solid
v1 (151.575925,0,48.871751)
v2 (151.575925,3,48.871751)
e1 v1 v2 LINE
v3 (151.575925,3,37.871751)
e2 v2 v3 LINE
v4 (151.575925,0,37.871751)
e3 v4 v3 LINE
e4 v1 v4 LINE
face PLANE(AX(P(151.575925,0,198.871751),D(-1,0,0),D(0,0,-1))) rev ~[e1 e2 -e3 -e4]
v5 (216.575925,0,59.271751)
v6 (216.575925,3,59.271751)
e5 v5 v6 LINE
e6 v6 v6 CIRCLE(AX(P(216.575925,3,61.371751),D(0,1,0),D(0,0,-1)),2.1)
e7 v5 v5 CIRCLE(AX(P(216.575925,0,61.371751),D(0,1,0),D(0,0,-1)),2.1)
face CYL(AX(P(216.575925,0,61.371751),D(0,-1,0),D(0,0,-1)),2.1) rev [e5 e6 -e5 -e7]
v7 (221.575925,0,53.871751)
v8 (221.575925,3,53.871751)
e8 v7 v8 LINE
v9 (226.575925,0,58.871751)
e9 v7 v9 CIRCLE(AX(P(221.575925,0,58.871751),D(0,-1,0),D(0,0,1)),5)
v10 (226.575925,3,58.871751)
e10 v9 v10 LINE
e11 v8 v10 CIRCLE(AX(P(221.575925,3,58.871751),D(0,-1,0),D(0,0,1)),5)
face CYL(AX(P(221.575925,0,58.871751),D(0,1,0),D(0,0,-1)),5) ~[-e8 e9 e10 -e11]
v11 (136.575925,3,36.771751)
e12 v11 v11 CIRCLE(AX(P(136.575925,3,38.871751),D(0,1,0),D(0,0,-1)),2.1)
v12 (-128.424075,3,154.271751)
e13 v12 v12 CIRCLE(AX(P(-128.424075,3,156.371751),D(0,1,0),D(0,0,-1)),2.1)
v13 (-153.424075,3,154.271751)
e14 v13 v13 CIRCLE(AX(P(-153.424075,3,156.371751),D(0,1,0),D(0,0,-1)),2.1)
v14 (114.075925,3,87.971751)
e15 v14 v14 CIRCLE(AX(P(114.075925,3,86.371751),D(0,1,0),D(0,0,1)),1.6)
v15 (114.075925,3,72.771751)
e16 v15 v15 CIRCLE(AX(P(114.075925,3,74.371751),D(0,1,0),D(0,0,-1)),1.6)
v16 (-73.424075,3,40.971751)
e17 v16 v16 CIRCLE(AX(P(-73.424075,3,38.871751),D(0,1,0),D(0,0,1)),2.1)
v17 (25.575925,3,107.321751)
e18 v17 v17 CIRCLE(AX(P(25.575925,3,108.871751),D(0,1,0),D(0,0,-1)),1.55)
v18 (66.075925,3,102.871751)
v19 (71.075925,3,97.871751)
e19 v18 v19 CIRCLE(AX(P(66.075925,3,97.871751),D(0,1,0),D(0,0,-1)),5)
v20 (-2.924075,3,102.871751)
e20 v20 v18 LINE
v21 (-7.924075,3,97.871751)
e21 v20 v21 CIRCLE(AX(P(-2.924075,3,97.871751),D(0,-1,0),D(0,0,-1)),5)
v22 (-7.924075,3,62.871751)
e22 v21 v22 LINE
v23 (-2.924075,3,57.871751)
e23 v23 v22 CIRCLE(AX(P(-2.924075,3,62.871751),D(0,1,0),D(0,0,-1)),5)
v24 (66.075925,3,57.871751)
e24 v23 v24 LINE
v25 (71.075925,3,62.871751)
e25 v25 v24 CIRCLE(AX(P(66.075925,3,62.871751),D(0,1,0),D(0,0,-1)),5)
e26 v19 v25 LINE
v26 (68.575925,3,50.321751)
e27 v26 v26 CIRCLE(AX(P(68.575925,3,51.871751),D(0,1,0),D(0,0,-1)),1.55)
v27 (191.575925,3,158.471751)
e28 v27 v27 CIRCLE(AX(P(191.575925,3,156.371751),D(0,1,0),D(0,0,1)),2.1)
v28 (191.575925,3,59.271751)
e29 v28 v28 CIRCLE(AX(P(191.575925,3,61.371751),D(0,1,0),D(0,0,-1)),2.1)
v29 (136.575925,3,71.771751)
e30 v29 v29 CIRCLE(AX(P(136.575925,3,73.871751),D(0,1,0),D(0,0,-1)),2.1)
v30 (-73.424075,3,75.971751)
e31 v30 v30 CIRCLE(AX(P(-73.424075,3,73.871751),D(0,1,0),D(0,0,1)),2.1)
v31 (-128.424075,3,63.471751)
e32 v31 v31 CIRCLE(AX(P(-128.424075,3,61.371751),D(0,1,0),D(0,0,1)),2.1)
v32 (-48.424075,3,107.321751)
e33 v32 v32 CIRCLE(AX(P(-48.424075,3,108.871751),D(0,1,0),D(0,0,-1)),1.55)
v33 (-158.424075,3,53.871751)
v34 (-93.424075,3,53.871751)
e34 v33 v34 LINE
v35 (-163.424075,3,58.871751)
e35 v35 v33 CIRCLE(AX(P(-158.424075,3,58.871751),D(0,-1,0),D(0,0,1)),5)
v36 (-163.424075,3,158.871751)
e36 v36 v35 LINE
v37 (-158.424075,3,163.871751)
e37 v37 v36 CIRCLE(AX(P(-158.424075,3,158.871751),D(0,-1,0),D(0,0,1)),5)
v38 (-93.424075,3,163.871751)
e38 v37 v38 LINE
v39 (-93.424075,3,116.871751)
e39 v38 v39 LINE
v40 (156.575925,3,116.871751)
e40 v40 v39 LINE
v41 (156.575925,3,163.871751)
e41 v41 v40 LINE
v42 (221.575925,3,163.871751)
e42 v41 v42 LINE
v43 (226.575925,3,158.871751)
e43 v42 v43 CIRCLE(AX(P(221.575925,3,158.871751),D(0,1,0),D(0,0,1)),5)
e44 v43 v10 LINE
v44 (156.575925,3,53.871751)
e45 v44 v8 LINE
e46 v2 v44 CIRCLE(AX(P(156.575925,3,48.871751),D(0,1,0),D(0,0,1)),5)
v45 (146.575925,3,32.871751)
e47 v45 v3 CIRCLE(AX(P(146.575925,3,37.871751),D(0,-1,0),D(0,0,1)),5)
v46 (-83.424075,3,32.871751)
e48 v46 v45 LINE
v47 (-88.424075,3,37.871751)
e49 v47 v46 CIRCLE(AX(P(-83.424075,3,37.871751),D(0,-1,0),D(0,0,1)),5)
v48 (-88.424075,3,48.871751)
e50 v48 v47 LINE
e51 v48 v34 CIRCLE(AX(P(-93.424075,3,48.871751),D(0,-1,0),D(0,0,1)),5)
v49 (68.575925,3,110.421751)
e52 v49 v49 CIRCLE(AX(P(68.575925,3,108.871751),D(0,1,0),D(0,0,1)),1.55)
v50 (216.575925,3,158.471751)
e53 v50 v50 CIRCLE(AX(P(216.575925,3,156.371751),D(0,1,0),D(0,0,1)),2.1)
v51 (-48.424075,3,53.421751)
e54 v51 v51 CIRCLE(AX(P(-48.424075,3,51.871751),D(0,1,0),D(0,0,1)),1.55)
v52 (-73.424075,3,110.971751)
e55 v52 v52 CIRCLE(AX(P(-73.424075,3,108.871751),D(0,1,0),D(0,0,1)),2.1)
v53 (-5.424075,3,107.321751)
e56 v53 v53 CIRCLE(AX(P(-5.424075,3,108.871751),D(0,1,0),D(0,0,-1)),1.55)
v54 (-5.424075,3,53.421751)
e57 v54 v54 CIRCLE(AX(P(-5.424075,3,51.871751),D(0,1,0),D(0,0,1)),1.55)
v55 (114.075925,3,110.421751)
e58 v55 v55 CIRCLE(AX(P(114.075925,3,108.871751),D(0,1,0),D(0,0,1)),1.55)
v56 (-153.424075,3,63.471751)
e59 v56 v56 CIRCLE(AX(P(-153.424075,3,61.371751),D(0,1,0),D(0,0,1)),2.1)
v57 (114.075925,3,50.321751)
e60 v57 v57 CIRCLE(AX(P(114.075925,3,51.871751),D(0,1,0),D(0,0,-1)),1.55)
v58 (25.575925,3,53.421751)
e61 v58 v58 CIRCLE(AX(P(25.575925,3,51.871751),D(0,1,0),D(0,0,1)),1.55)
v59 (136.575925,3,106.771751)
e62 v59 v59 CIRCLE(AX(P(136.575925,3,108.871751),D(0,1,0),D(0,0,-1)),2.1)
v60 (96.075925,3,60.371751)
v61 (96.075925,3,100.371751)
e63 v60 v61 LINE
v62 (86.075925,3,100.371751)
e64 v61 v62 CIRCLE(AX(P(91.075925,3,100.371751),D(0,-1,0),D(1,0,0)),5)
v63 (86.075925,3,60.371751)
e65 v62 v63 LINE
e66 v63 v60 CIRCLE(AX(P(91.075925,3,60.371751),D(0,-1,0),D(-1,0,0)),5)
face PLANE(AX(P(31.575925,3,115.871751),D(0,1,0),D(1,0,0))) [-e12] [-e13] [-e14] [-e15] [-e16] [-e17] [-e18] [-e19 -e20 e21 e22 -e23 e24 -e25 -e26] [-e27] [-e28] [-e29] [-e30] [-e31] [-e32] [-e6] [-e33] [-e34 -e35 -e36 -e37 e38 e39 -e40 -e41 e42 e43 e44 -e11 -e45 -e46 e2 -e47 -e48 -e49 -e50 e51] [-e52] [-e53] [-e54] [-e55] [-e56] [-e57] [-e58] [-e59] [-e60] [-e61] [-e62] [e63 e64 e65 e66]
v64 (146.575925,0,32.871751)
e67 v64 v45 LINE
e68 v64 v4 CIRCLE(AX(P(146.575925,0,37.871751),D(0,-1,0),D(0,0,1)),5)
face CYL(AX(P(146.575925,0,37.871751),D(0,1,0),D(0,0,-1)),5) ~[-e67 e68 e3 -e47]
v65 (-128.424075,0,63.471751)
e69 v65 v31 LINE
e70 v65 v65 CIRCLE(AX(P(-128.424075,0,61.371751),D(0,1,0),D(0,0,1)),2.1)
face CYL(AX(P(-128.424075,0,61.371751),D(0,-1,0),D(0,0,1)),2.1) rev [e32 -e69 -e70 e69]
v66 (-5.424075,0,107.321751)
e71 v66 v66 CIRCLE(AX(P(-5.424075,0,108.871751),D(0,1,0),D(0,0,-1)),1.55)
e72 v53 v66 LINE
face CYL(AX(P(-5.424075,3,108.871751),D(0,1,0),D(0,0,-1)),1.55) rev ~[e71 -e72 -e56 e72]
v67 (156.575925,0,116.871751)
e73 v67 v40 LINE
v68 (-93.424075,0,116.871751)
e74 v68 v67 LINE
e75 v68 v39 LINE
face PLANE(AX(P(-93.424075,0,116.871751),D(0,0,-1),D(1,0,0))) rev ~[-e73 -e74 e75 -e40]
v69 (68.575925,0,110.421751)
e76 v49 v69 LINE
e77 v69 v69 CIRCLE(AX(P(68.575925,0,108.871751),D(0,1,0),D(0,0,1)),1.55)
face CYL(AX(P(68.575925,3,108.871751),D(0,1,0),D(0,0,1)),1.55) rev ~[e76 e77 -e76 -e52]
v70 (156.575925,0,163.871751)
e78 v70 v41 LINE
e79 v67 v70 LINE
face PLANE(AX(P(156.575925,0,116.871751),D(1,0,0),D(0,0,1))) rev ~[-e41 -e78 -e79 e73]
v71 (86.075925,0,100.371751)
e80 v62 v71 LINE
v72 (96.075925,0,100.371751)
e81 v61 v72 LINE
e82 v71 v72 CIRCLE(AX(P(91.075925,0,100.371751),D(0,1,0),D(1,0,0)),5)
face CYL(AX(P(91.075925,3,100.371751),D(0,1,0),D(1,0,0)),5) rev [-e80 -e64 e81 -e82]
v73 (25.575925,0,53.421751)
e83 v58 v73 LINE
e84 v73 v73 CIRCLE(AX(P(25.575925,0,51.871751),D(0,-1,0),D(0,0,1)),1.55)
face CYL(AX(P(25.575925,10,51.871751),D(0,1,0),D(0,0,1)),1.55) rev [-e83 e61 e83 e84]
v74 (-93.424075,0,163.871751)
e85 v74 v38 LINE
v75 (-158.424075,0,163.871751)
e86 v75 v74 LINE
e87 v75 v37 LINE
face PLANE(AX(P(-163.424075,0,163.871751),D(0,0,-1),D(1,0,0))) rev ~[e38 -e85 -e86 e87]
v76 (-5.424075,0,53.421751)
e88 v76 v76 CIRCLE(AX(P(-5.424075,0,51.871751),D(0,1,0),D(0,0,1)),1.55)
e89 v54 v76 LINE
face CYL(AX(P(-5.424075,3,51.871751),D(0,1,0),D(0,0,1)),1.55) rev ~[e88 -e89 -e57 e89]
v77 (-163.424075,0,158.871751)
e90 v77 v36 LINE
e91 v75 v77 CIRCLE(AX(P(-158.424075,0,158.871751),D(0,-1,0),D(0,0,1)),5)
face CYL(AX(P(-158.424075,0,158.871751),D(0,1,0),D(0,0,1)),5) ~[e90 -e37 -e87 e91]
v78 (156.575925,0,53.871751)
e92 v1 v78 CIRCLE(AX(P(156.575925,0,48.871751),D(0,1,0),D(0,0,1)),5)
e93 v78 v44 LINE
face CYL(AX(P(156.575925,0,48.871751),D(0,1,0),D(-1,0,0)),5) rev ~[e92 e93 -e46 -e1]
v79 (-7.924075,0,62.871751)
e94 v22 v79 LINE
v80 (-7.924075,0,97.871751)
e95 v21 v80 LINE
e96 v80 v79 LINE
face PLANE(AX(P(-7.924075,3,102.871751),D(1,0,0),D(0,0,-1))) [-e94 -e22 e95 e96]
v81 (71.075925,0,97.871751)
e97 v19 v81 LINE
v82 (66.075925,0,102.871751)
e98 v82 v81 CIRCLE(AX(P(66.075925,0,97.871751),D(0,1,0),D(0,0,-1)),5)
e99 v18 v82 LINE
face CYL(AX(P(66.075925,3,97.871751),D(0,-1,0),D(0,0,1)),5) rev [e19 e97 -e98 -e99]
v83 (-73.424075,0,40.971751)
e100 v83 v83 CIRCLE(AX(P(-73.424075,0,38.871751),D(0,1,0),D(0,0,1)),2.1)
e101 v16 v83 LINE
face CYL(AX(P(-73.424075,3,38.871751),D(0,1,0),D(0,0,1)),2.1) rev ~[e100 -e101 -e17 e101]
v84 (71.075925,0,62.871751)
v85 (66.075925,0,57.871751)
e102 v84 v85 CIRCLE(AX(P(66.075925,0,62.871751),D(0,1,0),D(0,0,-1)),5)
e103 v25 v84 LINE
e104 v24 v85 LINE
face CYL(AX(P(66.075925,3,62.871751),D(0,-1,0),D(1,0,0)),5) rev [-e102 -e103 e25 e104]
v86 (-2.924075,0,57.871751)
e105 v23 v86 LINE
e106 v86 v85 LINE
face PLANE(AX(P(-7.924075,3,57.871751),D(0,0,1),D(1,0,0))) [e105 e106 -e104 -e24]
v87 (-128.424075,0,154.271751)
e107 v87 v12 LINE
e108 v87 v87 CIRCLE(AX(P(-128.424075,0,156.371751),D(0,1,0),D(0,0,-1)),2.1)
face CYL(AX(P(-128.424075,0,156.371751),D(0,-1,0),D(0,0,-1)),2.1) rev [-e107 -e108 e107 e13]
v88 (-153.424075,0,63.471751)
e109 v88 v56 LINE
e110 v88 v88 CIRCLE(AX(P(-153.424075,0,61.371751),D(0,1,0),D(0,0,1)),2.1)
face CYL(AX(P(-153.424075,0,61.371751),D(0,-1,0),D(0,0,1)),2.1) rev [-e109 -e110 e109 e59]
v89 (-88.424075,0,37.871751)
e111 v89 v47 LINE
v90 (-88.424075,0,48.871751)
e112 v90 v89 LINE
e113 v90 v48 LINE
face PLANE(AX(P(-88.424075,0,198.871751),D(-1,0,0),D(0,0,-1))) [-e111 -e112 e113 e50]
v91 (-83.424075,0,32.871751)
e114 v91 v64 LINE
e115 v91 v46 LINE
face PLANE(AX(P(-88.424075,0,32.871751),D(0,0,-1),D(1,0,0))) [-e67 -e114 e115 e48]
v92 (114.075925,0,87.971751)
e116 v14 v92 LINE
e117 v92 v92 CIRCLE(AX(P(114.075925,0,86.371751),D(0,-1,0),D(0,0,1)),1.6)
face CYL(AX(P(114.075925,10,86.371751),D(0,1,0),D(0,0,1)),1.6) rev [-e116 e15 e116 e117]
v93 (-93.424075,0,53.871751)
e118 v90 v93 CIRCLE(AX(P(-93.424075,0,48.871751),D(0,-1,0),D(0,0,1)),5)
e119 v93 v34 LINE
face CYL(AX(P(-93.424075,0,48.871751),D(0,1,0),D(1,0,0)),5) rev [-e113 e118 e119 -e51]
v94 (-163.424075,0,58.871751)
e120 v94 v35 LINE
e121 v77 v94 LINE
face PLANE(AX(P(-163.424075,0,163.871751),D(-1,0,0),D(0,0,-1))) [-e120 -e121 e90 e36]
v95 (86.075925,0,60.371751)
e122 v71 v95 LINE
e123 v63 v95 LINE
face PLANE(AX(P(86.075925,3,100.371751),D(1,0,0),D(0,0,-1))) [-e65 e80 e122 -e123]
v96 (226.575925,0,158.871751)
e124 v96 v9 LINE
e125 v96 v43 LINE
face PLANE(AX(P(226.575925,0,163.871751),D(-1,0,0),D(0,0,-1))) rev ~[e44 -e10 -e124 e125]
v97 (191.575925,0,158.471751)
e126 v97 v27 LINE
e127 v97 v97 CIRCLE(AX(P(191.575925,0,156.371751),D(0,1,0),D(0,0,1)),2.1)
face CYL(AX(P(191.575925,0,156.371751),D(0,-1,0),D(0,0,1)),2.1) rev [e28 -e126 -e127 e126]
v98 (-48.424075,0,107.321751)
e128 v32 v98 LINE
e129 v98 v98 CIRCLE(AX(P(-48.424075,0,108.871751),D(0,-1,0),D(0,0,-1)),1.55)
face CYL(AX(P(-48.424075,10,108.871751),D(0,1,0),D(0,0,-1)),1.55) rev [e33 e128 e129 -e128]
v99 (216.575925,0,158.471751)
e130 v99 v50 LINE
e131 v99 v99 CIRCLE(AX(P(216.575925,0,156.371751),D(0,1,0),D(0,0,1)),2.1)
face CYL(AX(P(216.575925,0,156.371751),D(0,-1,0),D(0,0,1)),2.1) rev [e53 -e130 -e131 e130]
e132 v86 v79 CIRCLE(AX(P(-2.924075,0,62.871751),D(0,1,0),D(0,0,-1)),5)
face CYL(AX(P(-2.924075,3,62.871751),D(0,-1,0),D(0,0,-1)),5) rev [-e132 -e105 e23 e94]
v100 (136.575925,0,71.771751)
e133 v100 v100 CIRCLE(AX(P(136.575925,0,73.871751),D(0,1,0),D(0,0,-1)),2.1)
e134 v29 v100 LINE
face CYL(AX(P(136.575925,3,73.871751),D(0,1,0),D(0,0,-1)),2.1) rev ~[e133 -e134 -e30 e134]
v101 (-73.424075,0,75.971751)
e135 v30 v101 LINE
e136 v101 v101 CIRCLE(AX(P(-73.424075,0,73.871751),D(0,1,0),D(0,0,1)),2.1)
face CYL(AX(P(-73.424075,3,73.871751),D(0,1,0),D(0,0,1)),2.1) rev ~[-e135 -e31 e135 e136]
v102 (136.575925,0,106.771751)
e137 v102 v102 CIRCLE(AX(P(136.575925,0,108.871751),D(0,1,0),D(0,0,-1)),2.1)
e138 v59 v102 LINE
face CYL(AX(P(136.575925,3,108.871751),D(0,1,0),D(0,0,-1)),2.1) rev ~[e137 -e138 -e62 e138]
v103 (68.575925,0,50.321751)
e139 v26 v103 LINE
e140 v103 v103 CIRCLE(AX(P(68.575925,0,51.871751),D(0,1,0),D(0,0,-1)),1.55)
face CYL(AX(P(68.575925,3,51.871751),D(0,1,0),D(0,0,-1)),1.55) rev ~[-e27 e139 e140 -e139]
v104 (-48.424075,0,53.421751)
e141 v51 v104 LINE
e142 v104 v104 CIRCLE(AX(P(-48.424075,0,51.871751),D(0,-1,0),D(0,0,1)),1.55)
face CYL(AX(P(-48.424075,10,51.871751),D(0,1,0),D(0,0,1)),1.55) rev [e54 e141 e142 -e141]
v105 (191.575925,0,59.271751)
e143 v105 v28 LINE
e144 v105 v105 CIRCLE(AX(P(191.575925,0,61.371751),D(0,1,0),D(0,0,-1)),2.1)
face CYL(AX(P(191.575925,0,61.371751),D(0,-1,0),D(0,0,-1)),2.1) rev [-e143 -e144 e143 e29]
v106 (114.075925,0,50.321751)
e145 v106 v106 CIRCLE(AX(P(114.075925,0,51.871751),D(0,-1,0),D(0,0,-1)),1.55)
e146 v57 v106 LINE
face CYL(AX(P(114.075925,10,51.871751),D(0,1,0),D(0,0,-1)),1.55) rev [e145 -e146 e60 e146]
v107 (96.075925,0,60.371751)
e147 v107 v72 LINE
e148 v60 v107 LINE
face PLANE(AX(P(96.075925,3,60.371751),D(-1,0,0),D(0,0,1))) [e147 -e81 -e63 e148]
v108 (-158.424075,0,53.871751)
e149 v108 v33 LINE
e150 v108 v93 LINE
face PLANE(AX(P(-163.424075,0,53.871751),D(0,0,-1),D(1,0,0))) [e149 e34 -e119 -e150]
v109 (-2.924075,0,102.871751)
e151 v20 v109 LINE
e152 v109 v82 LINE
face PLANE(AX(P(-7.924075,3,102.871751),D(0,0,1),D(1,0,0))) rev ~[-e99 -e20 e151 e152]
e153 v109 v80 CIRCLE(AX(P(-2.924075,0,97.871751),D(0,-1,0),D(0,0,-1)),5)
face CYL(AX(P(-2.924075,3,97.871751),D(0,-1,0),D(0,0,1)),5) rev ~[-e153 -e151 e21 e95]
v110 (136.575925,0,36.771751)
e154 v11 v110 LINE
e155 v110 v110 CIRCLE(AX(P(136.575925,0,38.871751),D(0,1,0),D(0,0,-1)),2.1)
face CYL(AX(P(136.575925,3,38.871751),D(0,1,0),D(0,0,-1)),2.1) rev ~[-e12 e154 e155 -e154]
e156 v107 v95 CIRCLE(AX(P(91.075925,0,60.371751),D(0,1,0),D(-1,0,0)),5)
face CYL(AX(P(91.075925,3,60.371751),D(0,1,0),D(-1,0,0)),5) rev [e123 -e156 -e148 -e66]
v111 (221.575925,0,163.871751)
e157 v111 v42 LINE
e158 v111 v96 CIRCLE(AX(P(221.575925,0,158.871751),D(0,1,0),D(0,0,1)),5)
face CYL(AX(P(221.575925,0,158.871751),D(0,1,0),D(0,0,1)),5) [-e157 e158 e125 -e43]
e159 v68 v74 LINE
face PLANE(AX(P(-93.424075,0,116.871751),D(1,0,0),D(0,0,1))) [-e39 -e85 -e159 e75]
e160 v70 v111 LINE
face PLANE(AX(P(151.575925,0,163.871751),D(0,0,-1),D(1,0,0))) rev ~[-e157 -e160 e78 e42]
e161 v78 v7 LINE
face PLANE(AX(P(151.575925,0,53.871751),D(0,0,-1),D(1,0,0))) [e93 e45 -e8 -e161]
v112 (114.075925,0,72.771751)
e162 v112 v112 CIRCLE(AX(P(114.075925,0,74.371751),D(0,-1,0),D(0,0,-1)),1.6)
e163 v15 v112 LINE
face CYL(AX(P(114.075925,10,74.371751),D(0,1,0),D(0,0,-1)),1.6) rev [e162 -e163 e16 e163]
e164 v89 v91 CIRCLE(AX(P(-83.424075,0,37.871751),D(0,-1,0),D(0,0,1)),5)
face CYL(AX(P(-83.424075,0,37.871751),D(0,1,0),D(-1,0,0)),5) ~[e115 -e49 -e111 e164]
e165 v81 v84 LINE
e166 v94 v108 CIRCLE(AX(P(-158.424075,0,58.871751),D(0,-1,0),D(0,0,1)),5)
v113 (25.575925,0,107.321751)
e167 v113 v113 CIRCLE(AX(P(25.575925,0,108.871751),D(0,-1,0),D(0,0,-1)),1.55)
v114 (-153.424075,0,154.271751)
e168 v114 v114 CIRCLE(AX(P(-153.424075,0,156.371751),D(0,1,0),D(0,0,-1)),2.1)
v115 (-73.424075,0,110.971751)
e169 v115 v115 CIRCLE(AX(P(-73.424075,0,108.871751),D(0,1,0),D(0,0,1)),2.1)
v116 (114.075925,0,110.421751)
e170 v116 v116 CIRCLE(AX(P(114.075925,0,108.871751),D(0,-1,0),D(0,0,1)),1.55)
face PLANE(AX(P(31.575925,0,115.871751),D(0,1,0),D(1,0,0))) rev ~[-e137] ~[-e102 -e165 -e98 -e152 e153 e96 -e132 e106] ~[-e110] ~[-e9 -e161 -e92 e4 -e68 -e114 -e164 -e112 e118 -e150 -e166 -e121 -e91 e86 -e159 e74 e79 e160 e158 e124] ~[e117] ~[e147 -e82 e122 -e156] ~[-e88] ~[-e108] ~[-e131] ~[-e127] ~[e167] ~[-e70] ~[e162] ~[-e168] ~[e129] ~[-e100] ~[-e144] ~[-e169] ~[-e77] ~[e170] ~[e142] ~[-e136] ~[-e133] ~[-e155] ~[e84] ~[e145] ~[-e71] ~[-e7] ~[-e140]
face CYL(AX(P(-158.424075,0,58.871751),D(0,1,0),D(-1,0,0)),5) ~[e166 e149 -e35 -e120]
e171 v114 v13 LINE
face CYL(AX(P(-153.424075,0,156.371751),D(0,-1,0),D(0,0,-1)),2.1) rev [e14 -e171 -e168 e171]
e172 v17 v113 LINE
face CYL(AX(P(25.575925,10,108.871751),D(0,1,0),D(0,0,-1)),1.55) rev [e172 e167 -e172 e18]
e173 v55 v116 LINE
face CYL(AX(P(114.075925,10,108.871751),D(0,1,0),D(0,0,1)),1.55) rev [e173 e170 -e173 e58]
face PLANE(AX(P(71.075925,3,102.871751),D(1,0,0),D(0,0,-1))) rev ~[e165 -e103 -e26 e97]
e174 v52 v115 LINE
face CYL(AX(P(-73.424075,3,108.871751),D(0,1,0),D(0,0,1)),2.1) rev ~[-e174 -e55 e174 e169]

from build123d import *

# Parameters (mm, degrees)
SKETCH_1_W          = 240
SKETCH_1_H          = 166
EXTRUDE_1272_DEPTH  = 3
SKETCH_4_R          = 2.1
SKETCH_4_R_2        = 1.55
CUT_EXTRUDE_3_DEPTH = 251.068459046
SKETCH_5_R          = 1.55
SKETCH_5_R_2        = 10
SKETCH_5_W          = 79
SKETCH_5_H          = 45
CUT_EXTRUDE_4_DEPTH = 251.068459046
SKETCH_6_W          = 75
SKETCH_6_H          = 110
SKETCH_6_R          = 2.1
EXTRUDE_1_DEPTH     = 3
FILLET_1_R          = 5
SKETCH_8_R          = 39
CUT_EXTRUDE_6_DEPTH = 10
CUT_EXTRUDE_START   = -10
SKETCH_9_R          = 1.55
SKETCH_9_R_2        = 1.6
CUT_EXTRUDE_7_DEPTH = 10
SKETCH_10_W         = 250
SKETCH_10_H         = 82
CUT_EXTRUDE_8_DEPTH = 10


with BuildPart() as part:
    # 草图1 → Extrude 1272 (new body)
    with BuildSketch(Plane(origin=(0, 0, 0), x_dir=(1, 0, 0), z_dir=(0, 1, 0))):
        with Locations((31.575924772, -115.871750732)):
            Rectangle(SKETCH_1_W, SKETCH_1_H)
    extrude(amount=EXTRUDE_1272_DEPTH)

    # 草图4 → 切除-拉伸3 (cut, through all)
    with BuildSketch(Plane(origin=(0, 3, 0), x_dir=(1, 0, 0), z_dir=(0, 1, 0))):
        with Locations(Location((-73.424075228, -73.871750732, 0), (0, 0, 270))):
            Circle(SKETCH_4_R)
        with Locations(Location((136.575924772, -178.871750732, 0), (0, 0, 90))):
            Circle(SKETCH_4_R)
        with Locations(Location((-73.424075228, -108.871750732, 0), (0, 0, 270))):
            Circle(SKETCH_4_R)
        with Locations(Location((-73.424075228, -143.871750732, 0), (0, 0, 270))):
            Circle(SKETCH_4_R)
        with Locations(Location((-73.424075228, -178.871750732, 0), (0, 0, 270))):
            Circle(SKETCH_4_R)
        with Locations(Location((136.575924772, -143.871750732, 0), (0, 0, 90))):
            Circle(SKETCH_4_R)
        with Locations(Location((136.575924772, -108.871750732, 0), (0, 0, 90))):
            Circle(SKETCH_4_R)
        with Locations(Location((136.575924772, -73.871750732, 0), (0, 0, 90))):
            Circle(SKETCH_4_R)
        with Locations(Location((-73.424075228, -38.871750732, 0), (0, 0, 270))):
            Circle(SKETCH_4_R)
        with Locations(Location((136.575924772, -38.871750732, 0), (0, 0, 90))):
            Circle(SKETCH_4_R)
        with Locations(Location((77.075924772, -188.871750732, 0), (0, 0, 270))):
            Circle(SKETCH_4_R_2)
        with Locations(Location((-13.924075228, -188.871750732, 0), (0, 0, 90))):
            Circle(SKETCH_4_R_2)
        with Locations(Location((77.075924772, -153.871750732, 0), (0, 0, 270))):
            Circle(SKETCH_4_R_2)
        with Locations(Location((-13.924075228, -153.871750732, 0), (0, 0, 90))):
            Circle(SKETCH_4_R_2)
    extrude(amount=-CUT_EXTRUDE_3_DEPTH, mode=Mode.SUBTRACT)

    # 草图5 → 切除-拉伸4 (cut, through all)
    with BuildSketch(Plane(origin=(0, 3, 0), x_dir=(1, 0, 0), z_dir=(0, 1, 0))):
        with Locations(Location((-5.424075228, -51.871750732, 0), (0, 0, 270))):
            Circle(SKETCH_5_R)
        with Locations(Location((68.575924772, -51.871750732, 0), (0, 0, 90))):
            Circle(SKETCH_5_R)
        with Locations(Location((68.575924772, -108.871750732, 0), (0, 0, 270))):
            Circle(SKETCH_5_R)
        with Locations(Location((-5.424075228, -108.871750732, 0), (0, 0, 90))):
            Circle(SKETCH_5_R)
        with Locations(Location((-45.424075228, -143.871750732, 0), (0, 0, 270))):
            Circle(SKETCH_5_R_2)
        with Locations(Location((108.575924772, -143.871750732, 0), (0, 0, 90))):
            Circle(SKETCH_5_R_2)
        with Locations((31.575924772, -80.371750732)):
            Rectangle(SKETCH_5_W, SKETCH_5_H)
        with BuildLine():
            Line((86.075924772, -100.371750732), (86.075924772, -60.371750732))
            ThreePointArc((86.075924772, -60.371750732), (91.075924772, -55.371750732), (96.075924772, -60.371750732))
            Line((96.075924772, -60.371750732), (96.075924772, -100.371750732))
            ThreePointArc((96.075924772, -100.371750732), (91.075924772, -105.371750732), (86.075924772, -100.371750732))
        make_face()
        with BuildLine():
            Line((1.575924772, -117.871750732), (61.575924772, -117.871750732))
            ThreePointArc((61.575924772, -117.871750732), (68.575924772, -124.871750732), (61.575924772, -131.871750732))
            Line((61.575924772, -131.871750732), (41.575924772, -131.871750732))
            ThreePointArc((41.575924772, -131.871750732), (31.575924772, -141.871750732), (21.575924772, -131.871750732))
            Line((21.575924772, -131.871750732), (1.575924772, -131.871750732))
            ThreePointArc((1.575924772, -131.871750732), (-5.424075228, -124.871750732), (1.575924772, -117.871750732))
        make_face()
    extrude(amount=-CUT_EXTRUDE_4_DEPTH, mode=Mode.SUBTRACT)

    # 草图6 → 凸台-拉伸1 (add)
    # profile 1 of 2: a face of its own
    with BuildSketch(Plane(origin=(0, 0, 0), x_dir=(1, 0, 0), z_dir=(0, 1, 0))):
        with Locations((-125.924075228, -108.871750732)):
            Rectangle(SKETCH_6_W, SKETCH_6_H)
        with Locations(Location((-153.424075228, -61.371750732, 0), (0, 0, 270))):
            Circle(SKETCH_6_R, mode=Mode.SUBTRACT)
        with Locations(Location((-153.424075228, -156.371750732, 0), (0, 0, 90))):
            Circle(SKETCH_6_R, mode=Mode.SUBTRACT)
        with Locations(Location((-128.424075228, -61.371750732, 0), (0, 0, 270))):
            Circle(SKETCH_6_R, mode=Mode.SUBTRACT)
        with Locations(Location((-128.424075228, -156.371750732, 0), (0, 0, 90))):
            Circle(SKETCH_6_R, mode=Mode.SUBTRACT)
    # profile 2 of 2: a face of its own
    with BuildSketch(Plane(origin=(0, 0, 0), x_dir=(1, 0, 0), z_dir=(0, 1, 0))):
        with Locations((189.075924772, -108.871750732)):
            Rectangle(SKETCH_6_W, SKETCH_6_H)
        with Locations(Location((216.575924772, -156.371750732, 0), (0, 0, 270))):
            Circle(SKETCH_6_R, mode=Mode.SUBTRACT)
        with Locations(Location((216.575924772, -61.371750732, 0), (0, 0, 90))):
            Circle(SKETCH_6_R, mode=Mode.SUBTRACT)
        with Locations(Location((191.575924772, -156.371750732, 0), (0, 0, 270))):
            Circle(SKETCH_6_R, mode=Mode.SUBTRACT)
        with Locations(Location((191.575924772, -61.371750732, 0), (0, 0, 90))):
            Circle(SKETCH_6_R, mode=Mode.SUBTRACT)
    extrude(amount=EXTRUDE_1_DEPTH)

    # 圆角1
    fillet_1_edges = [part.edges().sort_by_distance(p)[0] for p in [
        (41.575924772, 1.5, 131.871750732),
        (21.575924772, 1.5, 131.871750732),
        (-7.924075228, 1.5, 102.871750732),
        (-7.924075228, 1.5, 57.871750732),
        (71.075924772, 1.5, 57.871750732),
        (71.075924772, 1.5, 102.871750732),
        (-88.424075228, 1.5, 163.871750732),
        (-88.424075228, 1.5, 53.871750732),
        (-163.424075228, 1.5, 53.871750732),
        (-163.424075228, 1.5, 163.871750732),
        (226.575924772, 1.5, 53.871750732),
        (151.575924772, 1.5, 53.871750732),
        (151.575924772, 1.5, 163.871750732),
        (226.575924772, 1.5, 163.871750732),
        (-88.424075228, 1.5, 198.871750732),
        (-88.424075228, 1.5, 32.871750732),
        (151.575924772, 1.5, 32.871750732),
        (151.575924772, 1.5, 198.871750732),
    ]]
    fillet(fillet_1_edges, radius=FILLET_1_R)

    # 草图8 → 切除-拉伸6 (cut)
    with BuildSketch(Plane(origin=(0, 3, 0), x_dir=(1, 0, 0), z_dir=(0, 1, 0))):
        with Locations((31.575924772, -158.205226673)):
            Circle(SKETCH_8_R)
    extrude(amount=-CUT_EXTRUDE_6_DEPTH, mode=Mode.SUBTRACT)

    # 草图9 → 切除-拉伸7 (cut)
    with BuildSketch(Plane.XZ.offset(CUT_EXTRUDE_START)):
        with Locations(Location((68.575924772, 108.871750732, 0), (0, 0, 90))):
            Circle(SKETCH_9_R)
        with Locations(Location((-48.424075228, 108.871750732, 0), (0, 0, 270))):
            Circle(SKETCH_9_R)
        with Locations(Location((25.575924772, 108.871750732, 0), (0, 0, 270))):
            Circle(SKETCH_9_R)
        with Locations(Location((25.575924772, 51.871750732, 0), (0, 0, 90))):
            Circle(SKETCH_9_R)
        with Locations(Location((-48.424075228, 51.871750732, 0), (0, 0, 90))):
            Circle(SKETCH_9_R)
        with Locations(Location((114.075924772, 51.871750732, 0), (0, 0, 270))):
            Circle(SKETCH_9_R)
        with Locations(Location((114.075924772, 74.371750732, 0), (0, 0, 270))):
            Circle(SKETCH_9_R_2)
        with Locations(Location((114.075924772, 86.371750732, 0), (0, 0, 90))):
            Circle(SKETCH_9_R_2)
        with Locations(Location((114.075924772, 108.871750732, 0), (0, 0, 90))):
            Circle(SKETCH_9_R)
        with Locations(Location((114.075924772, 131.371750732, 0), (0, 0, 270))):
            Circle(SKETCH_9_R_2)
        with Locations(Location((68.075924772, 131.371750732, 0), (0, 0, 90))):
            Circle(SKETCH_9_R_2)
    extrude(amount=CUT_EXTRUDE_7_DEPTH, mode=Mode.SUBTRACT)

    # 草图10 → 切除-拉伸8 (cut)
    with BuildSketch(Plane.XZ):
        with Locations((31.575924772, 157.871750732)):
            Rectangle(SKETCH_10_W, SKETCH_10_H)
    extrude(amount=-CUT_EXTRUDE_8_DEPTH, mode=Mode.SUBTRACT)


solid = part.part
